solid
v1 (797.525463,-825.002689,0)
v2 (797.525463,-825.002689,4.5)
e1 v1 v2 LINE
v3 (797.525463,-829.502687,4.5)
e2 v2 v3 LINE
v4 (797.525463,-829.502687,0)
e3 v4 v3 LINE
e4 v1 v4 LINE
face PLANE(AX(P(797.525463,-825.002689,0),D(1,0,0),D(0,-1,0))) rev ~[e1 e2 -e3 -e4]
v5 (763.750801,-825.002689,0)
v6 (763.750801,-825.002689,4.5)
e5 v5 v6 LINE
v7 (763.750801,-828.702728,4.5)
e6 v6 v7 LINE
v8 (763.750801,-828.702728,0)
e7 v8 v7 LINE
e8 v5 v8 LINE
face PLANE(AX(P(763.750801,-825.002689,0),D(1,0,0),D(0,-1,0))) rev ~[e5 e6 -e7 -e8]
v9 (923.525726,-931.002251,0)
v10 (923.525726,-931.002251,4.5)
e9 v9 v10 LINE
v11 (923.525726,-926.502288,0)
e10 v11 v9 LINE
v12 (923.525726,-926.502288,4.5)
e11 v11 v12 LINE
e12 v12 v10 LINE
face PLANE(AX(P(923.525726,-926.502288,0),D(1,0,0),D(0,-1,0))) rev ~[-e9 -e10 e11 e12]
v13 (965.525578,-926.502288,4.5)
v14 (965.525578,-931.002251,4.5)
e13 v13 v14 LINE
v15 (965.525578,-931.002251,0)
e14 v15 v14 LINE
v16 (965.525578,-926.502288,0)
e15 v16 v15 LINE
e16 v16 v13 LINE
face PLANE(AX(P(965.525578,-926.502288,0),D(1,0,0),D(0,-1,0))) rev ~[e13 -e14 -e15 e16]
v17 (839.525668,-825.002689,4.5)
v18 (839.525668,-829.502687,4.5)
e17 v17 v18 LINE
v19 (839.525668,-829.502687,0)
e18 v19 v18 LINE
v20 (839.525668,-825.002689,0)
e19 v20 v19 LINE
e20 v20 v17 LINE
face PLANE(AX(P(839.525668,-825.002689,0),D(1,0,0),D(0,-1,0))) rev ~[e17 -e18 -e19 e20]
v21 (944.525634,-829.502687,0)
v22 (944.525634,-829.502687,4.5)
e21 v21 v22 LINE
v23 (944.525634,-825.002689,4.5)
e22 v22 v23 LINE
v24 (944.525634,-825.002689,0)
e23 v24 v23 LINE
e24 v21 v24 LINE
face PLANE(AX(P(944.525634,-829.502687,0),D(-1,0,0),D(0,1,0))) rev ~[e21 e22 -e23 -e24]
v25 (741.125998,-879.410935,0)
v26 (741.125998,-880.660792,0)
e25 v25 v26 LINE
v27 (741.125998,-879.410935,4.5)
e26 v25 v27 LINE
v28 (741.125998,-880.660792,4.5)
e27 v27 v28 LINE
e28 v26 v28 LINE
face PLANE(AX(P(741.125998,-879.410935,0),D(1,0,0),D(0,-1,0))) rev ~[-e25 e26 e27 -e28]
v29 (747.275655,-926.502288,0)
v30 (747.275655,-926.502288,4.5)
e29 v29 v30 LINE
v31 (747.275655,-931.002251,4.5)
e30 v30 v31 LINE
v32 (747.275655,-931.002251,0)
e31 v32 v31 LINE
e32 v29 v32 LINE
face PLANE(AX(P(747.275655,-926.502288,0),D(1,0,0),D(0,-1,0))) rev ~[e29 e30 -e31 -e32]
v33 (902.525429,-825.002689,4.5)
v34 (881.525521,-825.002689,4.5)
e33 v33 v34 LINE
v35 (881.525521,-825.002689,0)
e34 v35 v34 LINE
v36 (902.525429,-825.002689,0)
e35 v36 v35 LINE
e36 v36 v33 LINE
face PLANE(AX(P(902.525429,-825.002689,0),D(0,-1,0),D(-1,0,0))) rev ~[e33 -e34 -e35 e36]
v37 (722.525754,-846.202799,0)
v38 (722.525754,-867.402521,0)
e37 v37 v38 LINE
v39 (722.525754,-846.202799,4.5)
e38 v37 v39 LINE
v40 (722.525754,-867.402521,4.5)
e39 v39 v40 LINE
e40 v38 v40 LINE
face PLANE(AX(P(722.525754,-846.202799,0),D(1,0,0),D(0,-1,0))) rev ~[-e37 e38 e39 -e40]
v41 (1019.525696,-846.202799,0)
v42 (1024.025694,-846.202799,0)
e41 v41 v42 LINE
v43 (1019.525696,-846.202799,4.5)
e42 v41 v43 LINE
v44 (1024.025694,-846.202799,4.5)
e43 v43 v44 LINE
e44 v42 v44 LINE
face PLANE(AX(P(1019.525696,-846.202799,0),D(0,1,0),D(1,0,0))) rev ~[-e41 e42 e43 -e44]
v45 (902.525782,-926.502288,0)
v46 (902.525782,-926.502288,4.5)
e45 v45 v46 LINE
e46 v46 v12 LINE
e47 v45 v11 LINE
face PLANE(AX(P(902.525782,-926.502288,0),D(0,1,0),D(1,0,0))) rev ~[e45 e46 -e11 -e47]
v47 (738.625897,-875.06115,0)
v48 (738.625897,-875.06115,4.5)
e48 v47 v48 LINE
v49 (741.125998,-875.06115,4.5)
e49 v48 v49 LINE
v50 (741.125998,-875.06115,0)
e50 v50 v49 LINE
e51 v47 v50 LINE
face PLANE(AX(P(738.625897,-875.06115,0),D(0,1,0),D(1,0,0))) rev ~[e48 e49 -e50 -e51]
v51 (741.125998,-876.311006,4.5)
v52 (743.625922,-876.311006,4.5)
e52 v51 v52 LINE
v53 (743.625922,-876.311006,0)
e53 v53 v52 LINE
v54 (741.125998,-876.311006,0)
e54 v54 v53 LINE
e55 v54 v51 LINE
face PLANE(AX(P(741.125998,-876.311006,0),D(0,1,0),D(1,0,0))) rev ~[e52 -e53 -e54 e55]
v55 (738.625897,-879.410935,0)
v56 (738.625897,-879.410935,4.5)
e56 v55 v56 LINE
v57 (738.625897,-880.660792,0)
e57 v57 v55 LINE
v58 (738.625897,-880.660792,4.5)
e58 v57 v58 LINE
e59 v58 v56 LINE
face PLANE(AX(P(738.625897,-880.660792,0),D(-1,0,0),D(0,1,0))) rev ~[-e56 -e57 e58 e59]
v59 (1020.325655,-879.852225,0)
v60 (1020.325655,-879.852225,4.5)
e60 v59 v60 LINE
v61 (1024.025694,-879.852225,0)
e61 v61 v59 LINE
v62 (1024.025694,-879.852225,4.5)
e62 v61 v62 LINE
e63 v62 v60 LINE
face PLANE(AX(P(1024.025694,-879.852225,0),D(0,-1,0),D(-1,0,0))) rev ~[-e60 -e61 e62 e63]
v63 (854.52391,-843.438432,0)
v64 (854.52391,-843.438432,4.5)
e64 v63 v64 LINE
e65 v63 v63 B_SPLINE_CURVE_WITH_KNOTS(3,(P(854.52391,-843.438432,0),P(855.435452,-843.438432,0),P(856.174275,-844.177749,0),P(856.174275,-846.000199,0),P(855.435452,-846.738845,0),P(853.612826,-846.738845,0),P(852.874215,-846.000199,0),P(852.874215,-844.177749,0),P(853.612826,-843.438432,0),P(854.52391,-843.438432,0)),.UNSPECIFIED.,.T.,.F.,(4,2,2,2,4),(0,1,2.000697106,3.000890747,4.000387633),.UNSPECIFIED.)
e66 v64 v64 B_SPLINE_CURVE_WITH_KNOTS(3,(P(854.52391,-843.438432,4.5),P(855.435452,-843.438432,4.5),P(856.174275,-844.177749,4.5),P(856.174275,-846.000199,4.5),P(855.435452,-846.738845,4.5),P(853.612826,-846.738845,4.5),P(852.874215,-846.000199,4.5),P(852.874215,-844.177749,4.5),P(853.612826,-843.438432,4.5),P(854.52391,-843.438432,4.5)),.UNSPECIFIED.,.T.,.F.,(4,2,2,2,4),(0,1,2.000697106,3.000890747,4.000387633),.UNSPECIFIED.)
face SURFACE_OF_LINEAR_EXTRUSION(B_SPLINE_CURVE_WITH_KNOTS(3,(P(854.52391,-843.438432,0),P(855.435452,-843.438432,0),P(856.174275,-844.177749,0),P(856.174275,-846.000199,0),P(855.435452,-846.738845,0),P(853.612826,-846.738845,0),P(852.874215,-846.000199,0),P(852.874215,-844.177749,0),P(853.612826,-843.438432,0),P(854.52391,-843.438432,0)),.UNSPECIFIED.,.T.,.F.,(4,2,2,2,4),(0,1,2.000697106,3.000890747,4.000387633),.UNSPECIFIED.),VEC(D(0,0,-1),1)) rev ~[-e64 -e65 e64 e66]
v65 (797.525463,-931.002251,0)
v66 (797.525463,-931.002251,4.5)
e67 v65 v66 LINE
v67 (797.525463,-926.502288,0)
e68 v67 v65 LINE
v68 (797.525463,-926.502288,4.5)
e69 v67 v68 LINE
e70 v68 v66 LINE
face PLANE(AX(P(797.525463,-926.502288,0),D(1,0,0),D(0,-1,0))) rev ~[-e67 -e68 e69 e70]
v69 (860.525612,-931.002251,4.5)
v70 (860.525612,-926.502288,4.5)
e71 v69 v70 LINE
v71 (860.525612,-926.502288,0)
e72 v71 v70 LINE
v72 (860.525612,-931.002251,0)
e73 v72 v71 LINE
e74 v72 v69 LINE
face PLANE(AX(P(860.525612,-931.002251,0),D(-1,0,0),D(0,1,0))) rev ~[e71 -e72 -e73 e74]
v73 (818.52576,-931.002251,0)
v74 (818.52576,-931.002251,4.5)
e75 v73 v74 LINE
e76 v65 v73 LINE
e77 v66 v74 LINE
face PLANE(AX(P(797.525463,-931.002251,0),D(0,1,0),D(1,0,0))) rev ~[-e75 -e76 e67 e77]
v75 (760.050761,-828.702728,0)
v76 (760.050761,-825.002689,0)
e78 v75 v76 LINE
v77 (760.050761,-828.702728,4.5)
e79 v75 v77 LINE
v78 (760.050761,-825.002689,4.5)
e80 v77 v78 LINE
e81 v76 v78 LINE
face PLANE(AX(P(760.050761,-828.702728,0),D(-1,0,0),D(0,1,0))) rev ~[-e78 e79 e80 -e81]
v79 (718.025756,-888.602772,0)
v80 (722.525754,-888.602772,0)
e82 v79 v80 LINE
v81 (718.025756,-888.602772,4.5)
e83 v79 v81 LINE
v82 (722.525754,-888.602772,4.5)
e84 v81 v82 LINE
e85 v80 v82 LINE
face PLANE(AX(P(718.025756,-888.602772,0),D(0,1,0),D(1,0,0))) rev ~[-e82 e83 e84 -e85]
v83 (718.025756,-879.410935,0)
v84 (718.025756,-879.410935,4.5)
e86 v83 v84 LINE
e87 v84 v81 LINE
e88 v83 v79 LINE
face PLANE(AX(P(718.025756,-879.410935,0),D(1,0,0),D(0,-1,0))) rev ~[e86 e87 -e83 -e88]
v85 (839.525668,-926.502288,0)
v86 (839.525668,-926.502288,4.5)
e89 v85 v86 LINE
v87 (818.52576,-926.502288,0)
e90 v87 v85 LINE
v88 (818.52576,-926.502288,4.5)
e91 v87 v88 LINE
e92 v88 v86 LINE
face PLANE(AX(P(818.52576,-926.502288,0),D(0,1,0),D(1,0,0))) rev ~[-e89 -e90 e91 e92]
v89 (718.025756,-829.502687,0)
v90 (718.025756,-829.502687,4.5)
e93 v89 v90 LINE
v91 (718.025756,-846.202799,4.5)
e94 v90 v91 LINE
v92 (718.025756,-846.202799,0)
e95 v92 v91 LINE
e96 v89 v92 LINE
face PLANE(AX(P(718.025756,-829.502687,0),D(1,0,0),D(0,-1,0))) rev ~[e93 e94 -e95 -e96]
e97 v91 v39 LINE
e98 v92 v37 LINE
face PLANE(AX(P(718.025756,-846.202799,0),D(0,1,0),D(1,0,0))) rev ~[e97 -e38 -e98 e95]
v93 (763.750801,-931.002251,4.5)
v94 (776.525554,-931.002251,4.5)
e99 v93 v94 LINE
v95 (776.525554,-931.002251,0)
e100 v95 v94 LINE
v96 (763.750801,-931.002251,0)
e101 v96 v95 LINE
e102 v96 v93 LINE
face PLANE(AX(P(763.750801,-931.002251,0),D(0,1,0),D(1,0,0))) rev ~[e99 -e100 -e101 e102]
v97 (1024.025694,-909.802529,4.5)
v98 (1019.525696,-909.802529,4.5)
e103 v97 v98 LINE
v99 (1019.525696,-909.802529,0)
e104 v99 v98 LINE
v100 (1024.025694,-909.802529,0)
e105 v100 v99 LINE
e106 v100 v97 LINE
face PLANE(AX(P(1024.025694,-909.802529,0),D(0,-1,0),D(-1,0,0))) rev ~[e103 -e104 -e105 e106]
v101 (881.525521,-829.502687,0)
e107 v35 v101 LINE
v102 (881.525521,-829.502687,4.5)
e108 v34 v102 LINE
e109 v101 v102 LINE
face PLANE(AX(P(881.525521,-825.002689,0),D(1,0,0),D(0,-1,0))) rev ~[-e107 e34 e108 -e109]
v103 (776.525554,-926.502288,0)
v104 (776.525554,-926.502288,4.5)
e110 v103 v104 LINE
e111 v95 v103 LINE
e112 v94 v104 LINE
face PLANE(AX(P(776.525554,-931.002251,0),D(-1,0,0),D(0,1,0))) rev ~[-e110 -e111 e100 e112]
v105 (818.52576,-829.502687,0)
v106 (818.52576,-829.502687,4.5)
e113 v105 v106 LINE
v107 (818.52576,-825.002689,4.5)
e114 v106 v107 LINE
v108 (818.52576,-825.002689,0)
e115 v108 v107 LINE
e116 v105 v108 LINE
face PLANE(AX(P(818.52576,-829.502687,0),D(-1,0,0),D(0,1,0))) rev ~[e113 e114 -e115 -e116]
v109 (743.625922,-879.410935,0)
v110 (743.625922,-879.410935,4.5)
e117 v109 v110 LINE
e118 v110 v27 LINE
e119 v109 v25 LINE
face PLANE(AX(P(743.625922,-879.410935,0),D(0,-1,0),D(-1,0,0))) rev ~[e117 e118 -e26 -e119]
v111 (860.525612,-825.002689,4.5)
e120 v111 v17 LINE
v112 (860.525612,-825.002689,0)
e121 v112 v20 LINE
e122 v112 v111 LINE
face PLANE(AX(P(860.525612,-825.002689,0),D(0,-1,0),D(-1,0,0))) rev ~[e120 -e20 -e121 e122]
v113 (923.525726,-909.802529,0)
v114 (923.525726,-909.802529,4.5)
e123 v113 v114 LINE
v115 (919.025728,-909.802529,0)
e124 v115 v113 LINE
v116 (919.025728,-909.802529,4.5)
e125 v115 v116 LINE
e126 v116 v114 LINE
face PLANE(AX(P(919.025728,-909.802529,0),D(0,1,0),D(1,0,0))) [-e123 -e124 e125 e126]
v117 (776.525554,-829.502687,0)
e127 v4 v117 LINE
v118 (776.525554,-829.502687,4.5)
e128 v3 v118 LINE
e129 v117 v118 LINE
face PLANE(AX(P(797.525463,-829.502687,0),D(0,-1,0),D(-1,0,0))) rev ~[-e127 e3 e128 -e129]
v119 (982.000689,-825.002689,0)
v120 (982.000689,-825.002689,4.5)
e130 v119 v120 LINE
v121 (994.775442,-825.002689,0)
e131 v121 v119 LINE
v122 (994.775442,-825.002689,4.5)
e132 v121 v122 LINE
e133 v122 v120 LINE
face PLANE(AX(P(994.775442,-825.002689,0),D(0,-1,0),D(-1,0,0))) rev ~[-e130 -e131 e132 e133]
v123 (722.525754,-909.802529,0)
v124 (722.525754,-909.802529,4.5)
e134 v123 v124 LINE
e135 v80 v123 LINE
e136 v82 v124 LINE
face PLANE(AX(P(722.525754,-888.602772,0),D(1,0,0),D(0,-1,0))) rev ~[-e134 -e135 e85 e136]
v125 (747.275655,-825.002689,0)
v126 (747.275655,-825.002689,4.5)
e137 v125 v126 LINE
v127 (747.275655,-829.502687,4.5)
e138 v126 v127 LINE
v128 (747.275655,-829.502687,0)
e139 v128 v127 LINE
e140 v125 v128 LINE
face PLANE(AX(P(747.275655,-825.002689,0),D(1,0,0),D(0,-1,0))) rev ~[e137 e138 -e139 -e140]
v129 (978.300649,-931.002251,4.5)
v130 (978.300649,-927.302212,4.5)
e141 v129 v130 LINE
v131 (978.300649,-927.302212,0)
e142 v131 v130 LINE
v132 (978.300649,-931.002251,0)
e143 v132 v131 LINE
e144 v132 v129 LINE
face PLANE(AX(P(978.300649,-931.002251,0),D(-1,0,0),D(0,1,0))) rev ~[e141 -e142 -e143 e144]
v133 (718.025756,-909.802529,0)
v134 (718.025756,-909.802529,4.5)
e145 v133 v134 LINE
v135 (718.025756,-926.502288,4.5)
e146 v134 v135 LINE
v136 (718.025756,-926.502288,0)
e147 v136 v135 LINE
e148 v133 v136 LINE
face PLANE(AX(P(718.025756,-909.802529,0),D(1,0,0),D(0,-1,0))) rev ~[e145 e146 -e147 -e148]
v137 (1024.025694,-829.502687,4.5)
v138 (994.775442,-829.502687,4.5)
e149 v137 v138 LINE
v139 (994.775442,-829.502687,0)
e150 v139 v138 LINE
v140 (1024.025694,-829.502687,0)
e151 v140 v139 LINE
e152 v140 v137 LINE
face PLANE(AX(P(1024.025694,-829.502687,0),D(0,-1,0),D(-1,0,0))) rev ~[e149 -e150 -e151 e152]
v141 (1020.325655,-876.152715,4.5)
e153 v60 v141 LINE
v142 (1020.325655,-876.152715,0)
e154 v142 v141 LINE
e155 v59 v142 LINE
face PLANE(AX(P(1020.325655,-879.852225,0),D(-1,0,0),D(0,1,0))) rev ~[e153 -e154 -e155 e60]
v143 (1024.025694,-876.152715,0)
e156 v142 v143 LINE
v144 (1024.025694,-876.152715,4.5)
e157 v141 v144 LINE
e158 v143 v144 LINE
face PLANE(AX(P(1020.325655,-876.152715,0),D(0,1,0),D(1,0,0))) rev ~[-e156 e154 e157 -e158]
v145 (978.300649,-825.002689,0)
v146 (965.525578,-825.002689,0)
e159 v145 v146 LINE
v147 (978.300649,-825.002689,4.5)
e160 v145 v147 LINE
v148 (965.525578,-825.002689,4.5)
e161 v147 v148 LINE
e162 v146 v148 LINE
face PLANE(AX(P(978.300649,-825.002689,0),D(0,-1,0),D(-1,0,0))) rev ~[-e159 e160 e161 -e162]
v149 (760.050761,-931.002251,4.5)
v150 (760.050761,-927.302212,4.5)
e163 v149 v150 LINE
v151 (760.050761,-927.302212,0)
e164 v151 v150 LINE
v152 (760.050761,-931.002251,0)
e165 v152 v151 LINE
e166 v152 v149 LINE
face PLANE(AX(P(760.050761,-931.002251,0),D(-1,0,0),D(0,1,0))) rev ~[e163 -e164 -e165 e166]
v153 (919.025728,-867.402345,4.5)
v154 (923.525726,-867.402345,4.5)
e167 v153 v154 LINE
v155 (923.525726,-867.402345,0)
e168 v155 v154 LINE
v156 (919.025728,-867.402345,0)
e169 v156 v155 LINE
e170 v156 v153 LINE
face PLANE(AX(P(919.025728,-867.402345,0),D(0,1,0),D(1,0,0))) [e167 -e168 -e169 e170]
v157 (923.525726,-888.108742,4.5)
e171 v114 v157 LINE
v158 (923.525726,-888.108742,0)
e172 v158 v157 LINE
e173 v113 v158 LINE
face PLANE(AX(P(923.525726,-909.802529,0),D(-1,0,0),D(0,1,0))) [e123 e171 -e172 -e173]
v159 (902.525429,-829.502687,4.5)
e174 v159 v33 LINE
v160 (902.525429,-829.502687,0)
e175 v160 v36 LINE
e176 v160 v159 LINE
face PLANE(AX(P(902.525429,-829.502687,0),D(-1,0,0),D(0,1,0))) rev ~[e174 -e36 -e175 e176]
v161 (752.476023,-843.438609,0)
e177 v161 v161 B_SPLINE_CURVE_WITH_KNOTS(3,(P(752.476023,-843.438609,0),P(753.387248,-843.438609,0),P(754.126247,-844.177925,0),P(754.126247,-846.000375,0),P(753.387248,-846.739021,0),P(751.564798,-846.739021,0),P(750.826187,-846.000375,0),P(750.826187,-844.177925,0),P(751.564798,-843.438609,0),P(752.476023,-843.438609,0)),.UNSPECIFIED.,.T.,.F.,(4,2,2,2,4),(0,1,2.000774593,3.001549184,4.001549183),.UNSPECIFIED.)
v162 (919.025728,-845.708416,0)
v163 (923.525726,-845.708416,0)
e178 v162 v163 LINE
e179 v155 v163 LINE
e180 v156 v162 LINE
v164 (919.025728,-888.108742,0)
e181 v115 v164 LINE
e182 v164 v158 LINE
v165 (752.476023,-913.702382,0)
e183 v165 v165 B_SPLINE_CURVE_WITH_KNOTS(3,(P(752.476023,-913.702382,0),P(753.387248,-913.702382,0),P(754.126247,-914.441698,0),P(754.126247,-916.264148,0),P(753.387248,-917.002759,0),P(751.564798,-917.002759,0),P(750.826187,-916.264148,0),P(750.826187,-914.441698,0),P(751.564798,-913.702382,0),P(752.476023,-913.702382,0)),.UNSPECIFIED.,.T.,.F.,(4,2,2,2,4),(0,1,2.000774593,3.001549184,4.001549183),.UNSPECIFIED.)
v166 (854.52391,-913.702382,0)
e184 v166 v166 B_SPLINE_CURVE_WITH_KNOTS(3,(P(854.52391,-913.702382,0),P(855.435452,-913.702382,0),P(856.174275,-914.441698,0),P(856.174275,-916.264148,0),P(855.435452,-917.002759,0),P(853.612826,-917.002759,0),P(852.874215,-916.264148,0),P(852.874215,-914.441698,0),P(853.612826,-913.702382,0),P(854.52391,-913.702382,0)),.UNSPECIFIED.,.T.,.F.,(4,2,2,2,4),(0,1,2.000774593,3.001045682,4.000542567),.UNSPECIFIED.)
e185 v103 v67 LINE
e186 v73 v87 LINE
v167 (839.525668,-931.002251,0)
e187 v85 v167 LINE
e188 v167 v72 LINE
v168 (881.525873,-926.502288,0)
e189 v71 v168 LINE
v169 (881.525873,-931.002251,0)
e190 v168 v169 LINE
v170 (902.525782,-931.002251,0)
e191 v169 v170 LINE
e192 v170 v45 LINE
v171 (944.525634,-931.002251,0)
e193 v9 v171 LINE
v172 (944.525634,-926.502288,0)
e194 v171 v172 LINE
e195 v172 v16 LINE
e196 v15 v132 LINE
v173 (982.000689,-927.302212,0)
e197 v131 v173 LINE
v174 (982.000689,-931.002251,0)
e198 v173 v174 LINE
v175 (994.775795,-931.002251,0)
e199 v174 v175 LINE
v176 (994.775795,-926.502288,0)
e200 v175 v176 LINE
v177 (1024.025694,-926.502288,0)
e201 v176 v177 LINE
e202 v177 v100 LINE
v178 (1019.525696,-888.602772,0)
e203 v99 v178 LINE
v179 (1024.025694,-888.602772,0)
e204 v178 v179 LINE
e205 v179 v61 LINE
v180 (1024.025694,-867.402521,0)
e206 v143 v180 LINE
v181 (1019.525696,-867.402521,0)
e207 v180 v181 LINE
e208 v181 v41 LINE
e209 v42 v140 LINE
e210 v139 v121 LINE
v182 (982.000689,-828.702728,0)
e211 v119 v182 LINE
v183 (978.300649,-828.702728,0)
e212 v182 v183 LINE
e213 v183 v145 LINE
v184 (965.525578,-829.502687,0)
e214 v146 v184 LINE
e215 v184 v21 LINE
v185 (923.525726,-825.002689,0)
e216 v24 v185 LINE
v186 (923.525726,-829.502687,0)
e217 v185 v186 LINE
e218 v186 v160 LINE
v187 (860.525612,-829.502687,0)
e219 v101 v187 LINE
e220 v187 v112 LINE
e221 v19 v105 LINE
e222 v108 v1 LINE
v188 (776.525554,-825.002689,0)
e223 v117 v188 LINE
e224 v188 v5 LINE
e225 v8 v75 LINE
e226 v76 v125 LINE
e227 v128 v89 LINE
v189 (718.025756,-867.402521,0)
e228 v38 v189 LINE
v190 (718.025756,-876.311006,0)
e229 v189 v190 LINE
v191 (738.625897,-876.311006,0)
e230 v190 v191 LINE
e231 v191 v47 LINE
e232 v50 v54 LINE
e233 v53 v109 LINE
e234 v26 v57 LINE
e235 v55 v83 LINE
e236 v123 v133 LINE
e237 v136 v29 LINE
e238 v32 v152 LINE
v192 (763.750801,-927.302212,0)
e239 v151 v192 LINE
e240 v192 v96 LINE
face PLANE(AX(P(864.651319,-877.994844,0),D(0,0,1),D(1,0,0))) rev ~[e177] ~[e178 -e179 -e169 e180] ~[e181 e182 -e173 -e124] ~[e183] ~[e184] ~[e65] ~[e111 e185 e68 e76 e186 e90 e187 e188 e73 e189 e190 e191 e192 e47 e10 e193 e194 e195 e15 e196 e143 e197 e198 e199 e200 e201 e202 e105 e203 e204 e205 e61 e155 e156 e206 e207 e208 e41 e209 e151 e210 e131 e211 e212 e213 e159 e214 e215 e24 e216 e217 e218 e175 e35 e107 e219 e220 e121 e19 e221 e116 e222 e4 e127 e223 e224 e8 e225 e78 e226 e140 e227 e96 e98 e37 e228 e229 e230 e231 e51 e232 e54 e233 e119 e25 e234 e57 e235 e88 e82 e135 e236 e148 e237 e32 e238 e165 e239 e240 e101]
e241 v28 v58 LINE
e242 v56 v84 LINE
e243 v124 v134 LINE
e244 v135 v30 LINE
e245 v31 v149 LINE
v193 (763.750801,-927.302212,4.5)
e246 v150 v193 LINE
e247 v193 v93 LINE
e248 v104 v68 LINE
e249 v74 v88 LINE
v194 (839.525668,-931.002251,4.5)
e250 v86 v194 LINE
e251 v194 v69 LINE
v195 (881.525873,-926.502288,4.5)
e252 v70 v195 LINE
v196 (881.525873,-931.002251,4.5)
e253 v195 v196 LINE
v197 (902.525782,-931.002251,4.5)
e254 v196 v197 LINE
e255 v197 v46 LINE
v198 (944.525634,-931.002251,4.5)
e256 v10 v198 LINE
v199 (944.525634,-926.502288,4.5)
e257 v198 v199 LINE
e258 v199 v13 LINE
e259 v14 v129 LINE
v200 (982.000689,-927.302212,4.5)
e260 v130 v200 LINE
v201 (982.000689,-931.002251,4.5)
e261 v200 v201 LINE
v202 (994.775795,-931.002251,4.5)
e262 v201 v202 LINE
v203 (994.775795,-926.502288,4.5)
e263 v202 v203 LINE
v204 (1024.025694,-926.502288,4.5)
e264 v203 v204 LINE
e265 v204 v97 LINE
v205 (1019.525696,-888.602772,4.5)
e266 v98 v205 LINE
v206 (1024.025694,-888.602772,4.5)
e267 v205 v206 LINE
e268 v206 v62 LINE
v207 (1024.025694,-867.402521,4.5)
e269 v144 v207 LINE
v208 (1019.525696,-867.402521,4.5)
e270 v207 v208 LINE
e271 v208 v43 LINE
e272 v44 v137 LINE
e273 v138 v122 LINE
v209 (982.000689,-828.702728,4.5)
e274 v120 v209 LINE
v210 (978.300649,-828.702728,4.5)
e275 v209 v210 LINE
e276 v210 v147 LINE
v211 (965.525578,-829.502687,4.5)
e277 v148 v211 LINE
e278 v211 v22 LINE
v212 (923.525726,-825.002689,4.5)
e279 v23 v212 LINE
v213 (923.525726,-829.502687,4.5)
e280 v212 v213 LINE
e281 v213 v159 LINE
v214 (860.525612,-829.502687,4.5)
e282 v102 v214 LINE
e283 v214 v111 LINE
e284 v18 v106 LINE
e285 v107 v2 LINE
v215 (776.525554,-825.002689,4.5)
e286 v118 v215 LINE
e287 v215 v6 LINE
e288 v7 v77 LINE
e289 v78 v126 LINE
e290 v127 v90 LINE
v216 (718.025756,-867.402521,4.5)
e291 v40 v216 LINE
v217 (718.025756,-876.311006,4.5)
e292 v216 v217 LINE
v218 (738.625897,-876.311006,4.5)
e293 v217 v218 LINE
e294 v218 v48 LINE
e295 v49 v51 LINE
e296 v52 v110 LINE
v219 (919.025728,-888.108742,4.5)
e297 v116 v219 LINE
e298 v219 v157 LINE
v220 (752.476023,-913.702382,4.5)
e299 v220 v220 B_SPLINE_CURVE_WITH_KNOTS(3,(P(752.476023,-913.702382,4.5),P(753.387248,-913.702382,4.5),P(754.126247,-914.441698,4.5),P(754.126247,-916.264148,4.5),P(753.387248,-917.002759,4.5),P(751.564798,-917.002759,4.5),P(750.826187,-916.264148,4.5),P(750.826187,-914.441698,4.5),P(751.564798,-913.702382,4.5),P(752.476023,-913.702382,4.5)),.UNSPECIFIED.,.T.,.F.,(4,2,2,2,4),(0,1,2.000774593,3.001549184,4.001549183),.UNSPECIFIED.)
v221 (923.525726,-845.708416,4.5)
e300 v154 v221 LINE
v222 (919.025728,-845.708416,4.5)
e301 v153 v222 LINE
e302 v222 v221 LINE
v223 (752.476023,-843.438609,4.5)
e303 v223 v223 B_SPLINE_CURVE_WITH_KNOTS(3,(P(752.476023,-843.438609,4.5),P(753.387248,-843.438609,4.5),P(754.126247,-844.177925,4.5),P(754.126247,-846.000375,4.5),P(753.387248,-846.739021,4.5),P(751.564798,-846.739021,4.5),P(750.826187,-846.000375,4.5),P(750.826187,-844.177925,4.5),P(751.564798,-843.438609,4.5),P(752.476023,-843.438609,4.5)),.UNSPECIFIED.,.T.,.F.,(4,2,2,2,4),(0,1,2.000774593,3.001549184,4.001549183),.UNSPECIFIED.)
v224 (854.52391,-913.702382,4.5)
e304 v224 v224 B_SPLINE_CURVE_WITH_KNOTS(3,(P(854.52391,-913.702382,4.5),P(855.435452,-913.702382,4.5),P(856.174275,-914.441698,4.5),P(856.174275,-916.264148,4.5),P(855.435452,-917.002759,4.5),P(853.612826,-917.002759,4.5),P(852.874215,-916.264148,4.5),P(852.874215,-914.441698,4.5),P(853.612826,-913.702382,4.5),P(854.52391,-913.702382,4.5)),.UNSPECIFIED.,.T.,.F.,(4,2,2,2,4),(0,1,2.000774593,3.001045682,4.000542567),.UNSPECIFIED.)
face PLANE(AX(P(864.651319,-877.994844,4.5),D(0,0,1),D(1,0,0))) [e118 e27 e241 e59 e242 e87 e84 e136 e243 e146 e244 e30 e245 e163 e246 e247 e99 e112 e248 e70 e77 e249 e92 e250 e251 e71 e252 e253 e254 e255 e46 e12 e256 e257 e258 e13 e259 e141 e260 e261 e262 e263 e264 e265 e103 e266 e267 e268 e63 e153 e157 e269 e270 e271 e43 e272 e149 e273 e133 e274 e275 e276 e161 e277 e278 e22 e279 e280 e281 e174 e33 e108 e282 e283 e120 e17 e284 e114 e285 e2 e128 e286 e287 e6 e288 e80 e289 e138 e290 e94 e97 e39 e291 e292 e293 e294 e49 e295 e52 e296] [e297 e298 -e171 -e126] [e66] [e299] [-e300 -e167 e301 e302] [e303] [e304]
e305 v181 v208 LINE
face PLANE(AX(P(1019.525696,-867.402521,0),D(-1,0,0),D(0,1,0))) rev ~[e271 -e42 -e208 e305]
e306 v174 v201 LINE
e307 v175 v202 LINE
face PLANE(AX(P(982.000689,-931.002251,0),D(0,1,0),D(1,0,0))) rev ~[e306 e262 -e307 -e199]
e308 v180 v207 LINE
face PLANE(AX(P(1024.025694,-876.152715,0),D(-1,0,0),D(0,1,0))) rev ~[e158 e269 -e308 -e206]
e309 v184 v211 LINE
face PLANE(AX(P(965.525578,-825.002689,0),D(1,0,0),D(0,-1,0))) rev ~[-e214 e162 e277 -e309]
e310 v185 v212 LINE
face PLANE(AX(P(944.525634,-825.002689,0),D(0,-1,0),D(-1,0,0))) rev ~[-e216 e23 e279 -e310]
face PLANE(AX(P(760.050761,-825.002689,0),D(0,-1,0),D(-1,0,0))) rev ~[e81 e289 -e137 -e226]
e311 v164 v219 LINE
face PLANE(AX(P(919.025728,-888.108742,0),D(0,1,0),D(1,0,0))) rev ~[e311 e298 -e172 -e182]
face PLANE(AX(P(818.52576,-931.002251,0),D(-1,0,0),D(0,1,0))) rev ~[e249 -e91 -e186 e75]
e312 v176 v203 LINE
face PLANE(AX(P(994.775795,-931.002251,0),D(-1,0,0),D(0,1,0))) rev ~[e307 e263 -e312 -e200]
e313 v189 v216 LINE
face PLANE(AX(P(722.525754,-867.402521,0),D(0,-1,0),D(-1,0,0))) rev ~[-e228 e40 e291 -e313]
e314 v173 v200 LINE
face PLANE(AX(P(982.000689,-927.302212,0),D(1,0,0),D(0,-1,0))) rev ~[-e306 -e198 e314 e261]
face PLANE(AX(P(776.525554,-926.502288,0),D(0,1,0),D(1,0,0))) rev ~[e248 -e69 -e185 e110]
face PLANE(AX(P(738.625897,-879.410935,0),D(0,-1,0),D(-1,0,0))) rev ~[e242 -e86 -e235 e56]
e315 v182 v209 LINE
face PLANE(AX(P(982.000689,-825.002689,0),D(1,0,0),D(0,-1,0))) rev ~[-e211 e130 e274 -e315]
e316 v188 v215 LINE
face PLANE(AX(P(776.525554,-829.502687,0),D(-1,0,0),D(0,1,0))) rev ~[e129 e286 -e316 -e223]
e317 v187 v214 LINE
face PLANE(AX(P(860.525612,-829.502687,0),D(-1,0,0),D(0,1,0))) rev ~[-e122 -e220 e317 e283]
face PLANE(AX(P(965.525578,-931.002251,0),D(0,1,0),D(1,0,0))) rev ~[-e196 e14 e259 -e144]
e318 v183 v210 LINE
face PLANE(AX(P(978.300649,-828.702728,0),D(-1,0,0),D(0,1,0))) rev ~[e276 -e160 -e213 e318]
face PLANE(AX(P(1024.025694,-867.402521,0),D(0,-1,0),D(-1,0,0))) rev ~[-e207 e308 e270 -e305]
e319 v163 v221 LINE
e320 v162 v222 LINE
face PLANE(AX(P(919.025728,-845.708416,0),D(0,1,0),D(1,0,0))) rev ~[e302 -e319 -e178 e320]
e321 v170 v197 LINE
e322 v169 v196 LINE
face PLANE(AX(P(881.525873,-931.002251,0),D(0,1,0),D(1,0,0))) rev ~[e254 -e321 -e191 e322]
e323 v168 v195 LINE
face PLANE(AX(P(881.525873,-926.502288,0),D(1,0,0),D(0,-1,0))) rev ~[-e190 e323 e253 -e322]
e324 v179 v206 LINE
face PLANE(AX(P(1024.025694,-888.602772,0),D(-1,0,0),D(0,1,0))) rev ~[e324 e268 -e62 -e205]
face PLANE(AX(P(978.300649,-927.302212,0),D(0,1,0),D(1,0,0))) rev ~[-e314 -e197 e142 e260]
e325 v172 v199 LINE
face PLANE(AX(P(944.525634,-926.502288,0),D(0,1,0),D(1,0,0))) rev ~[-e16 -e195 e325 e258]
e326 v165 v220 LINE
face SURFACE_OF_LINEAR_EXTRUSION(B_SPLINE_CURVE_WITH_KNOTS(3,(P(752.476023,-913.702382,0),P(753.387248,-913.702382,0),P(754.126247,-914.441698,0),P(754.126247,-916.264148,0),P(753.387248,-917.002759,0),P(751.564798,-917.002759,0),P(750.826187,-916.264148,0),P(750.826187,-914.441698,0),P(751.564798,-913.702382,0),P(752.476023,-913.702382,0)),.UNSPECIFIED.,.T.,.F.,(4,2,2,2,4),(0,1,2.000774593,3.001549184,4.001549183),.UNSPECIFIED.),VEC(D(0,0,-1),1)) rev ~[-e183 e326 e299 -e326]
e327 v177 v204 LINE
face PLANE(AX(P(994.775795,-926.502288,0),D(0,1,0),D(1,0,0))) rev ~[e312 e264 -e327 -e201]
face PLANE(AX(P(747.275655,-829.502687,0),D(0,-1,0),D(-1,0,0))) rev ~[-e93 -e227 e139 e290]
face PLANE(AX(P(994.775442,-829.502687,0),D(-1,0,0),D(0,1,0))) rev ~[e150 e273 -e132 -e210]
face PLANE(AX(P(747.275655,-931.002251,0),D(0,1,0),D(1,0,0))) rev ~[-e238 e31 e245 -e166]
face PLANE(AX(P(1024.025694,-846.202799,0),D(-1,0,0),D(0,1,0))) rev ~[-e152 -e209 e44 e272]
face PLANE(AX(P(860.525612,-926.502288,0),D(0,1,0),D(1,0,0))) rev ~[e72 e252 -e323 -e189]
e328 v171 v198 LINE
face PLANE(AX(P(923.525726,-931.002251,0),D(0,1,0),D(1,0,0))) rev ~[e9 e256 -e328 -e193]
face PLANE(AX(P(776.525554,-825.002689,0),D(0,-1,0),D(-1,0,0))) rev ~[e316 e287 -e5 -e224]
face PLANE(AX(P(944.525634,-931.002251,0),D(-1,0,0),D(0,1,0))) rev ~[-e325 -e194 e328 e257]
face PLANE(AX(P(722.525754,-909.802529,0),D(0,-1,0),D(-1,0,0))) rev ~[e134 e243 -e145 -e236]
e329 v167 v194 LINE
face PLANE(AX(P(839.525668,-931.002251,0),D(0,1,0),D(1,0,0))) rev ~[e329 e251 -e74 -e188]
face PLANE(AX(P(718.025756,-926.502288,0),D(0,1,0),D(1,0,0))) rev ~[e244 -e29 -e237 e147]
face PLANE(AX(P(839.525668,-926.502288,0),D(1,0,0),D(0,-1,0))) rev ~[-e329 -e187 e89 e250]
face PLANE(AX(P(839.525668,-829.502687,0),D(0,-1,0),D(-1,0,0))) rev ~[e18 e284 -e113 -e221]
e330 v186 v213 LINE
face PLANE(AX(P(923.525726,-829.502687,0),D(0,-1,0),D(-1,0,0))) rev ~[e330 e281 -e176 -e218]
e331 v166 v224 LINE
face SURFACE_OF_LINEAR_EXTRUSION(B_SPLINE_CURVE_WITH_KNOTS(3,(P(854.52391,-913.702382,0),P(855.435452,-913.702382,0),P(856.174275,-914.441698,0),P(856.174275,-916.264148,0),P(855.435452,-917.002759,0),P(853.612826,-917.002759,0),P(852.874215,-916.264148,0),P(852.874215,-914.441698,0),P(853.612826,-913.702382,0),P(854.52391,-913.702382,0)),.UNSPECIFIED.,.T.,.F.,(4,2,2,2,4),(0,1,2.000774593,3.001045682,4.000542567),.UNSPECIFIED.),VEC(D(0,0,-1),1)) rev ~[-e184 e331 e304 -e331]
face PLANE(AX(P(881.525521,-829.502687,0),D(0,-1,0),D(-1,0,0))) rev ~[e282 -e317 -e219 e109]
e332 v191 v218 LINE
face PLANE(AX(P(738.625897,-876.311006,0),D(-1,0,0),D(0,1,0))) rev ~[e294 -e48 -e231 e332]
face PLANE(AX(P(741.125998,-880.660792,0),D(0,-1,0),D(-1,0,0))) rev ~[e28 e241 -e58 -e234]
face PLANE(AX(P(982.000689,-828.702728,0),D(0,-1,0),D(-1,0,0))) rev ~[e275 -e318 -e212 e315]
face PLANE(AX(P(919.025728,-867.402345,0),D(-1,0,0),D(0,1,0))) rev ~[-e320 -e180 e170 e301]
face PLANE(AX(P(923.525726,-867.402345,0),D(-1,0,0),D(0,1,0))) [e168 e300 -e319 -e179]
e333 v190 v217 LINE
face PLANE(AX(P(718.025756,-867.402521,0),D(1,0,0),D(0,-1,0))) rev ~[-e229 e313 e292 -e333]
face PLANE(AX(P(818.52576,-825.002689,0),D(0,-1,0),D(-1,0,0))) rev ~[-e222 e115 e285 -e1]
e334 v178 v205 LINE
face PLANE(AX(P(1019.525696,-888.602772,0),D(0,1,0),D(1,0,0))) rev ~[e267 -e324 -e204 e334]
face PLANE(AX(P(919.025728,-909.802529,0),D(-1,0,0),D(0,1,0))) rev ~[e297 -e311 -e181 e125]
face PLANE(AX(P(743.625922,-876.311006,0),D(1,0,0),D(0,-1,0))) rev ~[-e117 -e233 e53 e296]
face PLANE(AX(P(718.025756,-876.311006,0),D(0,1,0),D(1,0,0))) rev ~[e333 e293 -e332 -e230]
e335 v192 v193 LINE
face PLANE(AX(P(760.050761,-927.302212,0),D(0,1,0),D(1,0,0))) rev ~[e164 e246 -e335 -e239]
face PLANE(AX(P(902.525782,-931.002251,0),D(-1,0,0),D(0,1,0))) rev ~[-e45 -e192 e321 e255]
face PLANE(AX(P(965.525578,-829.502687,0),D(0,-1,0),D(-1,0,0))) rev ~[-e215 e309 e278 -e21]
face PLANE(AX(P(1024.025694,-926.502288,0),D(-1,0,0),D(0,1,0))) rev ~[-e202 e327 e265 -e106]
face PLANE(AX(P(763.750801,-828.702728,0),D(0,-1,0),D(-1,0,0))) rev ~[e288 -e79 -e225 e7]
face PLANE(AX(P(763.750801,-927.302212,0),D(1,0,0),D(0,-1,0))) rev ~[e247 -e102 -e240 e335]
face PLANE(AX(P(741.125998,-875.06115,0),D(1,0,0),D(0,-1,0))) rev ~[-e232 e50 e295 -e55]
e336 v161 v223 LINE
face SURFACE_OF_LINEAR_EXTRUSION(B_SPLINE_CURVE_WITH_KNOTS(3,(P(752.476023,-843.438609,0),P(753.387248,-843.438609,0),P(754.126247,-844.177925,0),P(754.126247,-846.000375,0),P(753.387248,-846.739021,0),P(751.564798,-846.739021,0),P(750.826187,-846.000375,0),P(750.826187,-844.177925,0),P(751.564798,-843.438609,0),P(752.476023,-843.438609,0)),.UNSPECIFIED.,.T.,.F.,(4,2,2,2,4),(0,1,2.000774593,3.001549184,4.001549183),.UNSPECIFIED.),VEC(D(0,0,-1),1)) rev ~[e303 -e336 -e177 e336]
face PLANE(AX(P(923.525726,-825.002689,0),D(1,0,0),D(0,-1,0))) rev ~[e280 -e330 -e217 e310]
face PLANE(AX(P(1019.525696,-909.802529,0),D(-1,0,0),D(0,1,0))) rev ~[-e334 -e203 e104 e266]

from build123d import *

# Parameters (mm, degrees)
MODEL_W             = 4.499998054
MODEL_H             = 21.693928328
MODEL_H_2           = 21.693787217
BOSS_EXTRUDE1_DEPTH = 4.5


with BuildPart() as part:
    # Model → Boss-Extrude1 (new body)
    with BuildSketch(Plane.XY):
        Polygon((760.050761477, -825.00268896), (747.275655091, -825.00268896), (747.275655091, -829.502687015), (722.525753986, -829.502687015), (718.025755932, -829.502687015), (718.025755932, -846.202798955), (722.525753986, -846.202798955), (722.525753986, -867.402520894), (718.025755932, -867.402520894), (718.025755932, -876.311006448), (738.62589676, -876.311006448), (738.62589676, -875.061150059), (741.125997592, -875.061150059), (741.125997592, -876.311006448), (743.625922036, -876.311006448), (743.625922036, -879.410935336), (741.125997592, -879.410935336), (741.125997592, -880.660791724), (738.62589676, -880.660791724), (738.62589676, -879.410935336), (718.025755932, -879.410935336), (718.025755932, -888.602772), (722.525753986, -888.602772), (722.525753986, -909.802529217), (718.025755932, -909.802529217), (718.025755932, -926.502288379), (747.275655091, -926.502288379), (747.275655091, -931.002251156), (760.050761477, -931.002251156), (760.050761477, -927.30221199), (763.750800642, -927.30221199), (763.750800642, -931.002251156), (776.52555425, -931.002251156), (776.52555425, -926.502288379), (797.525462856, -926.502288379), (797.525462856, -931.002251156), (818.525759518, -931.002251156), (818.525759518, -926.502288379), (839.525668123, -926.502288379), (839.525668123, -931.002251156), (860.525612007, -931.002251156), (860.525612007, -926.502288379), (881.525873391, -926.502288379), (881.525873391, -931.002251156), (902.525781997, -931.002251156), (902.525781997, -926.502288379), (923.52572588, -926.502288379), (923.52572588, -931.002251156), (944.525634486, -931.002251156), (944.525634486, -926.502288379), (965.52557837, -926.502288379), (965.52557837, -931.002251156), (978.300649478, -931.002251156), (978.300649478, -927.30221199), (982.000688643, -927.30221199), (982.000688643, -931.002251156), (994.775795029, -931.002251156), (994.775795029, -926.502288379), (1024.025694188, -926.502288379), (1024.025694188, -909.802529217), (1019.525696134, -909.802529217), (1019.525696134, -888.602772), (1024.025694188, -888.602772), (1024.025694188, -879.852225058), (1020.325655023, -879.852225058), (1020.325655023, -876.152715059), (1024.025694188, -876.152715059), (1024.025694188, -867.402520894), (1019.525696134, -867.402520894), (1019.525696134, -846.202798955), (1024.025694188, -846.202798955), (1024.025694188, -829.502687015), (1019.525696134, -829.502687015), (994.775442251, -829.502687015), (994.775442251, -825.00268896), (982.000688643, -825.00268896), (982.000688643, -828.702728126), (978.300649478, -828.702728126), (978.300649478, -825.00268896), (965.52557837, -825.00268896), (965.52557837, -829.502687015), (944.525634486, -829.502687015), (944.525634486, -825.00268896), (923.52572588, -825.00268896), (923.52572588, -829.502687015), (902.525429219, -829.502687015), (902.525429219, -825.00268896), (881.525520613, -825.00268896), (881.525520613, -829.502687015), (860.525612007, -829.502687015), (860.525612007, -825.00268896), (839.525668123, -825.00268896), (839.525668123, -829.502687015), (818.525759518, -829.502687015), (818.525759518, -825.00268896), (797.525462856, -825.00268896), (797.525462856, -829.502687015), (776.52555425, -829.502687015), (776.52555425, -825.00268896), (763.750800642, -825.00268896), (763.750800642, -828.702728126), (760.050761477, -828.702728126), align=None)
        with Locations((921.275726853, -856.555380341)):
            Rectangle(MODEL_W, MODEL_H, mode=Mode.SUBTRACT)
        with Locations((921.275726853, -898.955635608)):
            Rectangle(MODEL_W, MODEL_H_2, mode=Mode.SUBTRACT)
        with BuildLine():
            add(Edge.make_bspline(
                [(752.476022867, -917.002758937), (751.564797868, -917.002758937), (750.826187035, -916.264148104), (750.826187035, -915.352570327), (750.826187035, -914.441698105), (751.564797868, -913.702381716), (752.476022867, -913.702381716)],
                knots=[2, 2, 2, 2, 3, 3, 3, 4, 4, 4, 4], degree=3))
            add(Edge.make_bspline(
                [(752.476022867, -913.702381716), (753.387247867, -913.702381716), (754.126246756, -914.441698105), (754.126246756, -915.352570327), (754.126246756, -916.264148104), (753.387247867, -917.002758937), (752.476022867, -917.002758937)],
                knots=[0, 0, 0, 0, 1, 1, 1, 2, 2, 2, 2], degree=3))
        make_face(mode=Mode.SUBTRACT)
        with BuildLine():
            add(Edge.make_bspline(
                [(752.476022867, -846.739021177), (751.564797868, -846.739021177), (750.826187035, -846.000375066), (750.826187035, -845.088797289), (750.826187035, -844.177925067), (751.564797868, -843.438608678), (752.476022867, -843.438608678)],
                knots=[2, 2, 2, 2, 3, 3, 3, 4, 4, 4, 4], degree=3))
            add(Edge.make_bspline(
                [(752.476022867, -843.438608678), (753.387247867, -843.438608678), (754.126246756, -844.177925067), (754.126246756, -845.088797289), (754.126246756, -846.000375066), (753.387247867, -846.739021177), (752.476022867, -846.739021177)],
                knots=[0, 0, 0, 0, 1, 1, 1, 2, 2, 2, 2], degree=3))
        make_face(mode=Mode.SUBTRACT)
        with BuildLine():
            add(Edge.make_bspline(
                [(854.523909509, -917.002758937), (853.61282562, -917.002758937), (852.874214787, -916.264148104), (852.874214787, -915.352570327), (852.874214787, -914.441698105), (853.61282562, -913.702381716), (854.523909509, -913.702381716)],
                knots=[2, 2, 2, 2, 3, 3, 3, 4, 4, 4, 4], degree=3))
            add(Edge.make_bspline(
                [(854.523909509, -913.702381716), (855.435452008, -913.702381716), (856.174274508, -914.441698105), (856.174274508, -915.352570327), (856.174274508, -916.264148104), (855.435452008, -917.002758937), (854.523909509, -917.002758937)],
                knots=[0, 0, 0, 0, 1, 1, 1, 2, 2, 2, 2], degree=3))
        make_face(mode=Mode.SUBTRACT)
        with BuildLine():
            add(Edge.make_bspline(
                [(854.523909509, -846.738844788), (853.61282562, -846.738844788), (852.874214787, -846.000198677), (852.874214787, -845.088656178), (852.874214787, -844.177748678), (853.61282562, -843.438432289), (854.523909509, -843.438432289)],
                knots=[2, 2, 2, 2, 3, 3, 3, 4, 4, 4, 4], degree=3))
            add(Edge.make_bspline(
                [(854.523909509, -843.438432289), (855.435452008, -843.438432289), (856.174274508, -844.177748678), (856.174274508, -845.088656178), (856.174274508, -846.000198677), (855.435452008, -846.738844788), (854.523909509, -846.738844788)],
                knots=[0, 0, 0, 0, 1, 1, 1, 2, 2, 2, 2], degree=3))
        make_face(mode=Mode.SUBTRACT)
    extrude(amount=BOSS_EXTRUDE1_DEPTH)


solid = part.part
